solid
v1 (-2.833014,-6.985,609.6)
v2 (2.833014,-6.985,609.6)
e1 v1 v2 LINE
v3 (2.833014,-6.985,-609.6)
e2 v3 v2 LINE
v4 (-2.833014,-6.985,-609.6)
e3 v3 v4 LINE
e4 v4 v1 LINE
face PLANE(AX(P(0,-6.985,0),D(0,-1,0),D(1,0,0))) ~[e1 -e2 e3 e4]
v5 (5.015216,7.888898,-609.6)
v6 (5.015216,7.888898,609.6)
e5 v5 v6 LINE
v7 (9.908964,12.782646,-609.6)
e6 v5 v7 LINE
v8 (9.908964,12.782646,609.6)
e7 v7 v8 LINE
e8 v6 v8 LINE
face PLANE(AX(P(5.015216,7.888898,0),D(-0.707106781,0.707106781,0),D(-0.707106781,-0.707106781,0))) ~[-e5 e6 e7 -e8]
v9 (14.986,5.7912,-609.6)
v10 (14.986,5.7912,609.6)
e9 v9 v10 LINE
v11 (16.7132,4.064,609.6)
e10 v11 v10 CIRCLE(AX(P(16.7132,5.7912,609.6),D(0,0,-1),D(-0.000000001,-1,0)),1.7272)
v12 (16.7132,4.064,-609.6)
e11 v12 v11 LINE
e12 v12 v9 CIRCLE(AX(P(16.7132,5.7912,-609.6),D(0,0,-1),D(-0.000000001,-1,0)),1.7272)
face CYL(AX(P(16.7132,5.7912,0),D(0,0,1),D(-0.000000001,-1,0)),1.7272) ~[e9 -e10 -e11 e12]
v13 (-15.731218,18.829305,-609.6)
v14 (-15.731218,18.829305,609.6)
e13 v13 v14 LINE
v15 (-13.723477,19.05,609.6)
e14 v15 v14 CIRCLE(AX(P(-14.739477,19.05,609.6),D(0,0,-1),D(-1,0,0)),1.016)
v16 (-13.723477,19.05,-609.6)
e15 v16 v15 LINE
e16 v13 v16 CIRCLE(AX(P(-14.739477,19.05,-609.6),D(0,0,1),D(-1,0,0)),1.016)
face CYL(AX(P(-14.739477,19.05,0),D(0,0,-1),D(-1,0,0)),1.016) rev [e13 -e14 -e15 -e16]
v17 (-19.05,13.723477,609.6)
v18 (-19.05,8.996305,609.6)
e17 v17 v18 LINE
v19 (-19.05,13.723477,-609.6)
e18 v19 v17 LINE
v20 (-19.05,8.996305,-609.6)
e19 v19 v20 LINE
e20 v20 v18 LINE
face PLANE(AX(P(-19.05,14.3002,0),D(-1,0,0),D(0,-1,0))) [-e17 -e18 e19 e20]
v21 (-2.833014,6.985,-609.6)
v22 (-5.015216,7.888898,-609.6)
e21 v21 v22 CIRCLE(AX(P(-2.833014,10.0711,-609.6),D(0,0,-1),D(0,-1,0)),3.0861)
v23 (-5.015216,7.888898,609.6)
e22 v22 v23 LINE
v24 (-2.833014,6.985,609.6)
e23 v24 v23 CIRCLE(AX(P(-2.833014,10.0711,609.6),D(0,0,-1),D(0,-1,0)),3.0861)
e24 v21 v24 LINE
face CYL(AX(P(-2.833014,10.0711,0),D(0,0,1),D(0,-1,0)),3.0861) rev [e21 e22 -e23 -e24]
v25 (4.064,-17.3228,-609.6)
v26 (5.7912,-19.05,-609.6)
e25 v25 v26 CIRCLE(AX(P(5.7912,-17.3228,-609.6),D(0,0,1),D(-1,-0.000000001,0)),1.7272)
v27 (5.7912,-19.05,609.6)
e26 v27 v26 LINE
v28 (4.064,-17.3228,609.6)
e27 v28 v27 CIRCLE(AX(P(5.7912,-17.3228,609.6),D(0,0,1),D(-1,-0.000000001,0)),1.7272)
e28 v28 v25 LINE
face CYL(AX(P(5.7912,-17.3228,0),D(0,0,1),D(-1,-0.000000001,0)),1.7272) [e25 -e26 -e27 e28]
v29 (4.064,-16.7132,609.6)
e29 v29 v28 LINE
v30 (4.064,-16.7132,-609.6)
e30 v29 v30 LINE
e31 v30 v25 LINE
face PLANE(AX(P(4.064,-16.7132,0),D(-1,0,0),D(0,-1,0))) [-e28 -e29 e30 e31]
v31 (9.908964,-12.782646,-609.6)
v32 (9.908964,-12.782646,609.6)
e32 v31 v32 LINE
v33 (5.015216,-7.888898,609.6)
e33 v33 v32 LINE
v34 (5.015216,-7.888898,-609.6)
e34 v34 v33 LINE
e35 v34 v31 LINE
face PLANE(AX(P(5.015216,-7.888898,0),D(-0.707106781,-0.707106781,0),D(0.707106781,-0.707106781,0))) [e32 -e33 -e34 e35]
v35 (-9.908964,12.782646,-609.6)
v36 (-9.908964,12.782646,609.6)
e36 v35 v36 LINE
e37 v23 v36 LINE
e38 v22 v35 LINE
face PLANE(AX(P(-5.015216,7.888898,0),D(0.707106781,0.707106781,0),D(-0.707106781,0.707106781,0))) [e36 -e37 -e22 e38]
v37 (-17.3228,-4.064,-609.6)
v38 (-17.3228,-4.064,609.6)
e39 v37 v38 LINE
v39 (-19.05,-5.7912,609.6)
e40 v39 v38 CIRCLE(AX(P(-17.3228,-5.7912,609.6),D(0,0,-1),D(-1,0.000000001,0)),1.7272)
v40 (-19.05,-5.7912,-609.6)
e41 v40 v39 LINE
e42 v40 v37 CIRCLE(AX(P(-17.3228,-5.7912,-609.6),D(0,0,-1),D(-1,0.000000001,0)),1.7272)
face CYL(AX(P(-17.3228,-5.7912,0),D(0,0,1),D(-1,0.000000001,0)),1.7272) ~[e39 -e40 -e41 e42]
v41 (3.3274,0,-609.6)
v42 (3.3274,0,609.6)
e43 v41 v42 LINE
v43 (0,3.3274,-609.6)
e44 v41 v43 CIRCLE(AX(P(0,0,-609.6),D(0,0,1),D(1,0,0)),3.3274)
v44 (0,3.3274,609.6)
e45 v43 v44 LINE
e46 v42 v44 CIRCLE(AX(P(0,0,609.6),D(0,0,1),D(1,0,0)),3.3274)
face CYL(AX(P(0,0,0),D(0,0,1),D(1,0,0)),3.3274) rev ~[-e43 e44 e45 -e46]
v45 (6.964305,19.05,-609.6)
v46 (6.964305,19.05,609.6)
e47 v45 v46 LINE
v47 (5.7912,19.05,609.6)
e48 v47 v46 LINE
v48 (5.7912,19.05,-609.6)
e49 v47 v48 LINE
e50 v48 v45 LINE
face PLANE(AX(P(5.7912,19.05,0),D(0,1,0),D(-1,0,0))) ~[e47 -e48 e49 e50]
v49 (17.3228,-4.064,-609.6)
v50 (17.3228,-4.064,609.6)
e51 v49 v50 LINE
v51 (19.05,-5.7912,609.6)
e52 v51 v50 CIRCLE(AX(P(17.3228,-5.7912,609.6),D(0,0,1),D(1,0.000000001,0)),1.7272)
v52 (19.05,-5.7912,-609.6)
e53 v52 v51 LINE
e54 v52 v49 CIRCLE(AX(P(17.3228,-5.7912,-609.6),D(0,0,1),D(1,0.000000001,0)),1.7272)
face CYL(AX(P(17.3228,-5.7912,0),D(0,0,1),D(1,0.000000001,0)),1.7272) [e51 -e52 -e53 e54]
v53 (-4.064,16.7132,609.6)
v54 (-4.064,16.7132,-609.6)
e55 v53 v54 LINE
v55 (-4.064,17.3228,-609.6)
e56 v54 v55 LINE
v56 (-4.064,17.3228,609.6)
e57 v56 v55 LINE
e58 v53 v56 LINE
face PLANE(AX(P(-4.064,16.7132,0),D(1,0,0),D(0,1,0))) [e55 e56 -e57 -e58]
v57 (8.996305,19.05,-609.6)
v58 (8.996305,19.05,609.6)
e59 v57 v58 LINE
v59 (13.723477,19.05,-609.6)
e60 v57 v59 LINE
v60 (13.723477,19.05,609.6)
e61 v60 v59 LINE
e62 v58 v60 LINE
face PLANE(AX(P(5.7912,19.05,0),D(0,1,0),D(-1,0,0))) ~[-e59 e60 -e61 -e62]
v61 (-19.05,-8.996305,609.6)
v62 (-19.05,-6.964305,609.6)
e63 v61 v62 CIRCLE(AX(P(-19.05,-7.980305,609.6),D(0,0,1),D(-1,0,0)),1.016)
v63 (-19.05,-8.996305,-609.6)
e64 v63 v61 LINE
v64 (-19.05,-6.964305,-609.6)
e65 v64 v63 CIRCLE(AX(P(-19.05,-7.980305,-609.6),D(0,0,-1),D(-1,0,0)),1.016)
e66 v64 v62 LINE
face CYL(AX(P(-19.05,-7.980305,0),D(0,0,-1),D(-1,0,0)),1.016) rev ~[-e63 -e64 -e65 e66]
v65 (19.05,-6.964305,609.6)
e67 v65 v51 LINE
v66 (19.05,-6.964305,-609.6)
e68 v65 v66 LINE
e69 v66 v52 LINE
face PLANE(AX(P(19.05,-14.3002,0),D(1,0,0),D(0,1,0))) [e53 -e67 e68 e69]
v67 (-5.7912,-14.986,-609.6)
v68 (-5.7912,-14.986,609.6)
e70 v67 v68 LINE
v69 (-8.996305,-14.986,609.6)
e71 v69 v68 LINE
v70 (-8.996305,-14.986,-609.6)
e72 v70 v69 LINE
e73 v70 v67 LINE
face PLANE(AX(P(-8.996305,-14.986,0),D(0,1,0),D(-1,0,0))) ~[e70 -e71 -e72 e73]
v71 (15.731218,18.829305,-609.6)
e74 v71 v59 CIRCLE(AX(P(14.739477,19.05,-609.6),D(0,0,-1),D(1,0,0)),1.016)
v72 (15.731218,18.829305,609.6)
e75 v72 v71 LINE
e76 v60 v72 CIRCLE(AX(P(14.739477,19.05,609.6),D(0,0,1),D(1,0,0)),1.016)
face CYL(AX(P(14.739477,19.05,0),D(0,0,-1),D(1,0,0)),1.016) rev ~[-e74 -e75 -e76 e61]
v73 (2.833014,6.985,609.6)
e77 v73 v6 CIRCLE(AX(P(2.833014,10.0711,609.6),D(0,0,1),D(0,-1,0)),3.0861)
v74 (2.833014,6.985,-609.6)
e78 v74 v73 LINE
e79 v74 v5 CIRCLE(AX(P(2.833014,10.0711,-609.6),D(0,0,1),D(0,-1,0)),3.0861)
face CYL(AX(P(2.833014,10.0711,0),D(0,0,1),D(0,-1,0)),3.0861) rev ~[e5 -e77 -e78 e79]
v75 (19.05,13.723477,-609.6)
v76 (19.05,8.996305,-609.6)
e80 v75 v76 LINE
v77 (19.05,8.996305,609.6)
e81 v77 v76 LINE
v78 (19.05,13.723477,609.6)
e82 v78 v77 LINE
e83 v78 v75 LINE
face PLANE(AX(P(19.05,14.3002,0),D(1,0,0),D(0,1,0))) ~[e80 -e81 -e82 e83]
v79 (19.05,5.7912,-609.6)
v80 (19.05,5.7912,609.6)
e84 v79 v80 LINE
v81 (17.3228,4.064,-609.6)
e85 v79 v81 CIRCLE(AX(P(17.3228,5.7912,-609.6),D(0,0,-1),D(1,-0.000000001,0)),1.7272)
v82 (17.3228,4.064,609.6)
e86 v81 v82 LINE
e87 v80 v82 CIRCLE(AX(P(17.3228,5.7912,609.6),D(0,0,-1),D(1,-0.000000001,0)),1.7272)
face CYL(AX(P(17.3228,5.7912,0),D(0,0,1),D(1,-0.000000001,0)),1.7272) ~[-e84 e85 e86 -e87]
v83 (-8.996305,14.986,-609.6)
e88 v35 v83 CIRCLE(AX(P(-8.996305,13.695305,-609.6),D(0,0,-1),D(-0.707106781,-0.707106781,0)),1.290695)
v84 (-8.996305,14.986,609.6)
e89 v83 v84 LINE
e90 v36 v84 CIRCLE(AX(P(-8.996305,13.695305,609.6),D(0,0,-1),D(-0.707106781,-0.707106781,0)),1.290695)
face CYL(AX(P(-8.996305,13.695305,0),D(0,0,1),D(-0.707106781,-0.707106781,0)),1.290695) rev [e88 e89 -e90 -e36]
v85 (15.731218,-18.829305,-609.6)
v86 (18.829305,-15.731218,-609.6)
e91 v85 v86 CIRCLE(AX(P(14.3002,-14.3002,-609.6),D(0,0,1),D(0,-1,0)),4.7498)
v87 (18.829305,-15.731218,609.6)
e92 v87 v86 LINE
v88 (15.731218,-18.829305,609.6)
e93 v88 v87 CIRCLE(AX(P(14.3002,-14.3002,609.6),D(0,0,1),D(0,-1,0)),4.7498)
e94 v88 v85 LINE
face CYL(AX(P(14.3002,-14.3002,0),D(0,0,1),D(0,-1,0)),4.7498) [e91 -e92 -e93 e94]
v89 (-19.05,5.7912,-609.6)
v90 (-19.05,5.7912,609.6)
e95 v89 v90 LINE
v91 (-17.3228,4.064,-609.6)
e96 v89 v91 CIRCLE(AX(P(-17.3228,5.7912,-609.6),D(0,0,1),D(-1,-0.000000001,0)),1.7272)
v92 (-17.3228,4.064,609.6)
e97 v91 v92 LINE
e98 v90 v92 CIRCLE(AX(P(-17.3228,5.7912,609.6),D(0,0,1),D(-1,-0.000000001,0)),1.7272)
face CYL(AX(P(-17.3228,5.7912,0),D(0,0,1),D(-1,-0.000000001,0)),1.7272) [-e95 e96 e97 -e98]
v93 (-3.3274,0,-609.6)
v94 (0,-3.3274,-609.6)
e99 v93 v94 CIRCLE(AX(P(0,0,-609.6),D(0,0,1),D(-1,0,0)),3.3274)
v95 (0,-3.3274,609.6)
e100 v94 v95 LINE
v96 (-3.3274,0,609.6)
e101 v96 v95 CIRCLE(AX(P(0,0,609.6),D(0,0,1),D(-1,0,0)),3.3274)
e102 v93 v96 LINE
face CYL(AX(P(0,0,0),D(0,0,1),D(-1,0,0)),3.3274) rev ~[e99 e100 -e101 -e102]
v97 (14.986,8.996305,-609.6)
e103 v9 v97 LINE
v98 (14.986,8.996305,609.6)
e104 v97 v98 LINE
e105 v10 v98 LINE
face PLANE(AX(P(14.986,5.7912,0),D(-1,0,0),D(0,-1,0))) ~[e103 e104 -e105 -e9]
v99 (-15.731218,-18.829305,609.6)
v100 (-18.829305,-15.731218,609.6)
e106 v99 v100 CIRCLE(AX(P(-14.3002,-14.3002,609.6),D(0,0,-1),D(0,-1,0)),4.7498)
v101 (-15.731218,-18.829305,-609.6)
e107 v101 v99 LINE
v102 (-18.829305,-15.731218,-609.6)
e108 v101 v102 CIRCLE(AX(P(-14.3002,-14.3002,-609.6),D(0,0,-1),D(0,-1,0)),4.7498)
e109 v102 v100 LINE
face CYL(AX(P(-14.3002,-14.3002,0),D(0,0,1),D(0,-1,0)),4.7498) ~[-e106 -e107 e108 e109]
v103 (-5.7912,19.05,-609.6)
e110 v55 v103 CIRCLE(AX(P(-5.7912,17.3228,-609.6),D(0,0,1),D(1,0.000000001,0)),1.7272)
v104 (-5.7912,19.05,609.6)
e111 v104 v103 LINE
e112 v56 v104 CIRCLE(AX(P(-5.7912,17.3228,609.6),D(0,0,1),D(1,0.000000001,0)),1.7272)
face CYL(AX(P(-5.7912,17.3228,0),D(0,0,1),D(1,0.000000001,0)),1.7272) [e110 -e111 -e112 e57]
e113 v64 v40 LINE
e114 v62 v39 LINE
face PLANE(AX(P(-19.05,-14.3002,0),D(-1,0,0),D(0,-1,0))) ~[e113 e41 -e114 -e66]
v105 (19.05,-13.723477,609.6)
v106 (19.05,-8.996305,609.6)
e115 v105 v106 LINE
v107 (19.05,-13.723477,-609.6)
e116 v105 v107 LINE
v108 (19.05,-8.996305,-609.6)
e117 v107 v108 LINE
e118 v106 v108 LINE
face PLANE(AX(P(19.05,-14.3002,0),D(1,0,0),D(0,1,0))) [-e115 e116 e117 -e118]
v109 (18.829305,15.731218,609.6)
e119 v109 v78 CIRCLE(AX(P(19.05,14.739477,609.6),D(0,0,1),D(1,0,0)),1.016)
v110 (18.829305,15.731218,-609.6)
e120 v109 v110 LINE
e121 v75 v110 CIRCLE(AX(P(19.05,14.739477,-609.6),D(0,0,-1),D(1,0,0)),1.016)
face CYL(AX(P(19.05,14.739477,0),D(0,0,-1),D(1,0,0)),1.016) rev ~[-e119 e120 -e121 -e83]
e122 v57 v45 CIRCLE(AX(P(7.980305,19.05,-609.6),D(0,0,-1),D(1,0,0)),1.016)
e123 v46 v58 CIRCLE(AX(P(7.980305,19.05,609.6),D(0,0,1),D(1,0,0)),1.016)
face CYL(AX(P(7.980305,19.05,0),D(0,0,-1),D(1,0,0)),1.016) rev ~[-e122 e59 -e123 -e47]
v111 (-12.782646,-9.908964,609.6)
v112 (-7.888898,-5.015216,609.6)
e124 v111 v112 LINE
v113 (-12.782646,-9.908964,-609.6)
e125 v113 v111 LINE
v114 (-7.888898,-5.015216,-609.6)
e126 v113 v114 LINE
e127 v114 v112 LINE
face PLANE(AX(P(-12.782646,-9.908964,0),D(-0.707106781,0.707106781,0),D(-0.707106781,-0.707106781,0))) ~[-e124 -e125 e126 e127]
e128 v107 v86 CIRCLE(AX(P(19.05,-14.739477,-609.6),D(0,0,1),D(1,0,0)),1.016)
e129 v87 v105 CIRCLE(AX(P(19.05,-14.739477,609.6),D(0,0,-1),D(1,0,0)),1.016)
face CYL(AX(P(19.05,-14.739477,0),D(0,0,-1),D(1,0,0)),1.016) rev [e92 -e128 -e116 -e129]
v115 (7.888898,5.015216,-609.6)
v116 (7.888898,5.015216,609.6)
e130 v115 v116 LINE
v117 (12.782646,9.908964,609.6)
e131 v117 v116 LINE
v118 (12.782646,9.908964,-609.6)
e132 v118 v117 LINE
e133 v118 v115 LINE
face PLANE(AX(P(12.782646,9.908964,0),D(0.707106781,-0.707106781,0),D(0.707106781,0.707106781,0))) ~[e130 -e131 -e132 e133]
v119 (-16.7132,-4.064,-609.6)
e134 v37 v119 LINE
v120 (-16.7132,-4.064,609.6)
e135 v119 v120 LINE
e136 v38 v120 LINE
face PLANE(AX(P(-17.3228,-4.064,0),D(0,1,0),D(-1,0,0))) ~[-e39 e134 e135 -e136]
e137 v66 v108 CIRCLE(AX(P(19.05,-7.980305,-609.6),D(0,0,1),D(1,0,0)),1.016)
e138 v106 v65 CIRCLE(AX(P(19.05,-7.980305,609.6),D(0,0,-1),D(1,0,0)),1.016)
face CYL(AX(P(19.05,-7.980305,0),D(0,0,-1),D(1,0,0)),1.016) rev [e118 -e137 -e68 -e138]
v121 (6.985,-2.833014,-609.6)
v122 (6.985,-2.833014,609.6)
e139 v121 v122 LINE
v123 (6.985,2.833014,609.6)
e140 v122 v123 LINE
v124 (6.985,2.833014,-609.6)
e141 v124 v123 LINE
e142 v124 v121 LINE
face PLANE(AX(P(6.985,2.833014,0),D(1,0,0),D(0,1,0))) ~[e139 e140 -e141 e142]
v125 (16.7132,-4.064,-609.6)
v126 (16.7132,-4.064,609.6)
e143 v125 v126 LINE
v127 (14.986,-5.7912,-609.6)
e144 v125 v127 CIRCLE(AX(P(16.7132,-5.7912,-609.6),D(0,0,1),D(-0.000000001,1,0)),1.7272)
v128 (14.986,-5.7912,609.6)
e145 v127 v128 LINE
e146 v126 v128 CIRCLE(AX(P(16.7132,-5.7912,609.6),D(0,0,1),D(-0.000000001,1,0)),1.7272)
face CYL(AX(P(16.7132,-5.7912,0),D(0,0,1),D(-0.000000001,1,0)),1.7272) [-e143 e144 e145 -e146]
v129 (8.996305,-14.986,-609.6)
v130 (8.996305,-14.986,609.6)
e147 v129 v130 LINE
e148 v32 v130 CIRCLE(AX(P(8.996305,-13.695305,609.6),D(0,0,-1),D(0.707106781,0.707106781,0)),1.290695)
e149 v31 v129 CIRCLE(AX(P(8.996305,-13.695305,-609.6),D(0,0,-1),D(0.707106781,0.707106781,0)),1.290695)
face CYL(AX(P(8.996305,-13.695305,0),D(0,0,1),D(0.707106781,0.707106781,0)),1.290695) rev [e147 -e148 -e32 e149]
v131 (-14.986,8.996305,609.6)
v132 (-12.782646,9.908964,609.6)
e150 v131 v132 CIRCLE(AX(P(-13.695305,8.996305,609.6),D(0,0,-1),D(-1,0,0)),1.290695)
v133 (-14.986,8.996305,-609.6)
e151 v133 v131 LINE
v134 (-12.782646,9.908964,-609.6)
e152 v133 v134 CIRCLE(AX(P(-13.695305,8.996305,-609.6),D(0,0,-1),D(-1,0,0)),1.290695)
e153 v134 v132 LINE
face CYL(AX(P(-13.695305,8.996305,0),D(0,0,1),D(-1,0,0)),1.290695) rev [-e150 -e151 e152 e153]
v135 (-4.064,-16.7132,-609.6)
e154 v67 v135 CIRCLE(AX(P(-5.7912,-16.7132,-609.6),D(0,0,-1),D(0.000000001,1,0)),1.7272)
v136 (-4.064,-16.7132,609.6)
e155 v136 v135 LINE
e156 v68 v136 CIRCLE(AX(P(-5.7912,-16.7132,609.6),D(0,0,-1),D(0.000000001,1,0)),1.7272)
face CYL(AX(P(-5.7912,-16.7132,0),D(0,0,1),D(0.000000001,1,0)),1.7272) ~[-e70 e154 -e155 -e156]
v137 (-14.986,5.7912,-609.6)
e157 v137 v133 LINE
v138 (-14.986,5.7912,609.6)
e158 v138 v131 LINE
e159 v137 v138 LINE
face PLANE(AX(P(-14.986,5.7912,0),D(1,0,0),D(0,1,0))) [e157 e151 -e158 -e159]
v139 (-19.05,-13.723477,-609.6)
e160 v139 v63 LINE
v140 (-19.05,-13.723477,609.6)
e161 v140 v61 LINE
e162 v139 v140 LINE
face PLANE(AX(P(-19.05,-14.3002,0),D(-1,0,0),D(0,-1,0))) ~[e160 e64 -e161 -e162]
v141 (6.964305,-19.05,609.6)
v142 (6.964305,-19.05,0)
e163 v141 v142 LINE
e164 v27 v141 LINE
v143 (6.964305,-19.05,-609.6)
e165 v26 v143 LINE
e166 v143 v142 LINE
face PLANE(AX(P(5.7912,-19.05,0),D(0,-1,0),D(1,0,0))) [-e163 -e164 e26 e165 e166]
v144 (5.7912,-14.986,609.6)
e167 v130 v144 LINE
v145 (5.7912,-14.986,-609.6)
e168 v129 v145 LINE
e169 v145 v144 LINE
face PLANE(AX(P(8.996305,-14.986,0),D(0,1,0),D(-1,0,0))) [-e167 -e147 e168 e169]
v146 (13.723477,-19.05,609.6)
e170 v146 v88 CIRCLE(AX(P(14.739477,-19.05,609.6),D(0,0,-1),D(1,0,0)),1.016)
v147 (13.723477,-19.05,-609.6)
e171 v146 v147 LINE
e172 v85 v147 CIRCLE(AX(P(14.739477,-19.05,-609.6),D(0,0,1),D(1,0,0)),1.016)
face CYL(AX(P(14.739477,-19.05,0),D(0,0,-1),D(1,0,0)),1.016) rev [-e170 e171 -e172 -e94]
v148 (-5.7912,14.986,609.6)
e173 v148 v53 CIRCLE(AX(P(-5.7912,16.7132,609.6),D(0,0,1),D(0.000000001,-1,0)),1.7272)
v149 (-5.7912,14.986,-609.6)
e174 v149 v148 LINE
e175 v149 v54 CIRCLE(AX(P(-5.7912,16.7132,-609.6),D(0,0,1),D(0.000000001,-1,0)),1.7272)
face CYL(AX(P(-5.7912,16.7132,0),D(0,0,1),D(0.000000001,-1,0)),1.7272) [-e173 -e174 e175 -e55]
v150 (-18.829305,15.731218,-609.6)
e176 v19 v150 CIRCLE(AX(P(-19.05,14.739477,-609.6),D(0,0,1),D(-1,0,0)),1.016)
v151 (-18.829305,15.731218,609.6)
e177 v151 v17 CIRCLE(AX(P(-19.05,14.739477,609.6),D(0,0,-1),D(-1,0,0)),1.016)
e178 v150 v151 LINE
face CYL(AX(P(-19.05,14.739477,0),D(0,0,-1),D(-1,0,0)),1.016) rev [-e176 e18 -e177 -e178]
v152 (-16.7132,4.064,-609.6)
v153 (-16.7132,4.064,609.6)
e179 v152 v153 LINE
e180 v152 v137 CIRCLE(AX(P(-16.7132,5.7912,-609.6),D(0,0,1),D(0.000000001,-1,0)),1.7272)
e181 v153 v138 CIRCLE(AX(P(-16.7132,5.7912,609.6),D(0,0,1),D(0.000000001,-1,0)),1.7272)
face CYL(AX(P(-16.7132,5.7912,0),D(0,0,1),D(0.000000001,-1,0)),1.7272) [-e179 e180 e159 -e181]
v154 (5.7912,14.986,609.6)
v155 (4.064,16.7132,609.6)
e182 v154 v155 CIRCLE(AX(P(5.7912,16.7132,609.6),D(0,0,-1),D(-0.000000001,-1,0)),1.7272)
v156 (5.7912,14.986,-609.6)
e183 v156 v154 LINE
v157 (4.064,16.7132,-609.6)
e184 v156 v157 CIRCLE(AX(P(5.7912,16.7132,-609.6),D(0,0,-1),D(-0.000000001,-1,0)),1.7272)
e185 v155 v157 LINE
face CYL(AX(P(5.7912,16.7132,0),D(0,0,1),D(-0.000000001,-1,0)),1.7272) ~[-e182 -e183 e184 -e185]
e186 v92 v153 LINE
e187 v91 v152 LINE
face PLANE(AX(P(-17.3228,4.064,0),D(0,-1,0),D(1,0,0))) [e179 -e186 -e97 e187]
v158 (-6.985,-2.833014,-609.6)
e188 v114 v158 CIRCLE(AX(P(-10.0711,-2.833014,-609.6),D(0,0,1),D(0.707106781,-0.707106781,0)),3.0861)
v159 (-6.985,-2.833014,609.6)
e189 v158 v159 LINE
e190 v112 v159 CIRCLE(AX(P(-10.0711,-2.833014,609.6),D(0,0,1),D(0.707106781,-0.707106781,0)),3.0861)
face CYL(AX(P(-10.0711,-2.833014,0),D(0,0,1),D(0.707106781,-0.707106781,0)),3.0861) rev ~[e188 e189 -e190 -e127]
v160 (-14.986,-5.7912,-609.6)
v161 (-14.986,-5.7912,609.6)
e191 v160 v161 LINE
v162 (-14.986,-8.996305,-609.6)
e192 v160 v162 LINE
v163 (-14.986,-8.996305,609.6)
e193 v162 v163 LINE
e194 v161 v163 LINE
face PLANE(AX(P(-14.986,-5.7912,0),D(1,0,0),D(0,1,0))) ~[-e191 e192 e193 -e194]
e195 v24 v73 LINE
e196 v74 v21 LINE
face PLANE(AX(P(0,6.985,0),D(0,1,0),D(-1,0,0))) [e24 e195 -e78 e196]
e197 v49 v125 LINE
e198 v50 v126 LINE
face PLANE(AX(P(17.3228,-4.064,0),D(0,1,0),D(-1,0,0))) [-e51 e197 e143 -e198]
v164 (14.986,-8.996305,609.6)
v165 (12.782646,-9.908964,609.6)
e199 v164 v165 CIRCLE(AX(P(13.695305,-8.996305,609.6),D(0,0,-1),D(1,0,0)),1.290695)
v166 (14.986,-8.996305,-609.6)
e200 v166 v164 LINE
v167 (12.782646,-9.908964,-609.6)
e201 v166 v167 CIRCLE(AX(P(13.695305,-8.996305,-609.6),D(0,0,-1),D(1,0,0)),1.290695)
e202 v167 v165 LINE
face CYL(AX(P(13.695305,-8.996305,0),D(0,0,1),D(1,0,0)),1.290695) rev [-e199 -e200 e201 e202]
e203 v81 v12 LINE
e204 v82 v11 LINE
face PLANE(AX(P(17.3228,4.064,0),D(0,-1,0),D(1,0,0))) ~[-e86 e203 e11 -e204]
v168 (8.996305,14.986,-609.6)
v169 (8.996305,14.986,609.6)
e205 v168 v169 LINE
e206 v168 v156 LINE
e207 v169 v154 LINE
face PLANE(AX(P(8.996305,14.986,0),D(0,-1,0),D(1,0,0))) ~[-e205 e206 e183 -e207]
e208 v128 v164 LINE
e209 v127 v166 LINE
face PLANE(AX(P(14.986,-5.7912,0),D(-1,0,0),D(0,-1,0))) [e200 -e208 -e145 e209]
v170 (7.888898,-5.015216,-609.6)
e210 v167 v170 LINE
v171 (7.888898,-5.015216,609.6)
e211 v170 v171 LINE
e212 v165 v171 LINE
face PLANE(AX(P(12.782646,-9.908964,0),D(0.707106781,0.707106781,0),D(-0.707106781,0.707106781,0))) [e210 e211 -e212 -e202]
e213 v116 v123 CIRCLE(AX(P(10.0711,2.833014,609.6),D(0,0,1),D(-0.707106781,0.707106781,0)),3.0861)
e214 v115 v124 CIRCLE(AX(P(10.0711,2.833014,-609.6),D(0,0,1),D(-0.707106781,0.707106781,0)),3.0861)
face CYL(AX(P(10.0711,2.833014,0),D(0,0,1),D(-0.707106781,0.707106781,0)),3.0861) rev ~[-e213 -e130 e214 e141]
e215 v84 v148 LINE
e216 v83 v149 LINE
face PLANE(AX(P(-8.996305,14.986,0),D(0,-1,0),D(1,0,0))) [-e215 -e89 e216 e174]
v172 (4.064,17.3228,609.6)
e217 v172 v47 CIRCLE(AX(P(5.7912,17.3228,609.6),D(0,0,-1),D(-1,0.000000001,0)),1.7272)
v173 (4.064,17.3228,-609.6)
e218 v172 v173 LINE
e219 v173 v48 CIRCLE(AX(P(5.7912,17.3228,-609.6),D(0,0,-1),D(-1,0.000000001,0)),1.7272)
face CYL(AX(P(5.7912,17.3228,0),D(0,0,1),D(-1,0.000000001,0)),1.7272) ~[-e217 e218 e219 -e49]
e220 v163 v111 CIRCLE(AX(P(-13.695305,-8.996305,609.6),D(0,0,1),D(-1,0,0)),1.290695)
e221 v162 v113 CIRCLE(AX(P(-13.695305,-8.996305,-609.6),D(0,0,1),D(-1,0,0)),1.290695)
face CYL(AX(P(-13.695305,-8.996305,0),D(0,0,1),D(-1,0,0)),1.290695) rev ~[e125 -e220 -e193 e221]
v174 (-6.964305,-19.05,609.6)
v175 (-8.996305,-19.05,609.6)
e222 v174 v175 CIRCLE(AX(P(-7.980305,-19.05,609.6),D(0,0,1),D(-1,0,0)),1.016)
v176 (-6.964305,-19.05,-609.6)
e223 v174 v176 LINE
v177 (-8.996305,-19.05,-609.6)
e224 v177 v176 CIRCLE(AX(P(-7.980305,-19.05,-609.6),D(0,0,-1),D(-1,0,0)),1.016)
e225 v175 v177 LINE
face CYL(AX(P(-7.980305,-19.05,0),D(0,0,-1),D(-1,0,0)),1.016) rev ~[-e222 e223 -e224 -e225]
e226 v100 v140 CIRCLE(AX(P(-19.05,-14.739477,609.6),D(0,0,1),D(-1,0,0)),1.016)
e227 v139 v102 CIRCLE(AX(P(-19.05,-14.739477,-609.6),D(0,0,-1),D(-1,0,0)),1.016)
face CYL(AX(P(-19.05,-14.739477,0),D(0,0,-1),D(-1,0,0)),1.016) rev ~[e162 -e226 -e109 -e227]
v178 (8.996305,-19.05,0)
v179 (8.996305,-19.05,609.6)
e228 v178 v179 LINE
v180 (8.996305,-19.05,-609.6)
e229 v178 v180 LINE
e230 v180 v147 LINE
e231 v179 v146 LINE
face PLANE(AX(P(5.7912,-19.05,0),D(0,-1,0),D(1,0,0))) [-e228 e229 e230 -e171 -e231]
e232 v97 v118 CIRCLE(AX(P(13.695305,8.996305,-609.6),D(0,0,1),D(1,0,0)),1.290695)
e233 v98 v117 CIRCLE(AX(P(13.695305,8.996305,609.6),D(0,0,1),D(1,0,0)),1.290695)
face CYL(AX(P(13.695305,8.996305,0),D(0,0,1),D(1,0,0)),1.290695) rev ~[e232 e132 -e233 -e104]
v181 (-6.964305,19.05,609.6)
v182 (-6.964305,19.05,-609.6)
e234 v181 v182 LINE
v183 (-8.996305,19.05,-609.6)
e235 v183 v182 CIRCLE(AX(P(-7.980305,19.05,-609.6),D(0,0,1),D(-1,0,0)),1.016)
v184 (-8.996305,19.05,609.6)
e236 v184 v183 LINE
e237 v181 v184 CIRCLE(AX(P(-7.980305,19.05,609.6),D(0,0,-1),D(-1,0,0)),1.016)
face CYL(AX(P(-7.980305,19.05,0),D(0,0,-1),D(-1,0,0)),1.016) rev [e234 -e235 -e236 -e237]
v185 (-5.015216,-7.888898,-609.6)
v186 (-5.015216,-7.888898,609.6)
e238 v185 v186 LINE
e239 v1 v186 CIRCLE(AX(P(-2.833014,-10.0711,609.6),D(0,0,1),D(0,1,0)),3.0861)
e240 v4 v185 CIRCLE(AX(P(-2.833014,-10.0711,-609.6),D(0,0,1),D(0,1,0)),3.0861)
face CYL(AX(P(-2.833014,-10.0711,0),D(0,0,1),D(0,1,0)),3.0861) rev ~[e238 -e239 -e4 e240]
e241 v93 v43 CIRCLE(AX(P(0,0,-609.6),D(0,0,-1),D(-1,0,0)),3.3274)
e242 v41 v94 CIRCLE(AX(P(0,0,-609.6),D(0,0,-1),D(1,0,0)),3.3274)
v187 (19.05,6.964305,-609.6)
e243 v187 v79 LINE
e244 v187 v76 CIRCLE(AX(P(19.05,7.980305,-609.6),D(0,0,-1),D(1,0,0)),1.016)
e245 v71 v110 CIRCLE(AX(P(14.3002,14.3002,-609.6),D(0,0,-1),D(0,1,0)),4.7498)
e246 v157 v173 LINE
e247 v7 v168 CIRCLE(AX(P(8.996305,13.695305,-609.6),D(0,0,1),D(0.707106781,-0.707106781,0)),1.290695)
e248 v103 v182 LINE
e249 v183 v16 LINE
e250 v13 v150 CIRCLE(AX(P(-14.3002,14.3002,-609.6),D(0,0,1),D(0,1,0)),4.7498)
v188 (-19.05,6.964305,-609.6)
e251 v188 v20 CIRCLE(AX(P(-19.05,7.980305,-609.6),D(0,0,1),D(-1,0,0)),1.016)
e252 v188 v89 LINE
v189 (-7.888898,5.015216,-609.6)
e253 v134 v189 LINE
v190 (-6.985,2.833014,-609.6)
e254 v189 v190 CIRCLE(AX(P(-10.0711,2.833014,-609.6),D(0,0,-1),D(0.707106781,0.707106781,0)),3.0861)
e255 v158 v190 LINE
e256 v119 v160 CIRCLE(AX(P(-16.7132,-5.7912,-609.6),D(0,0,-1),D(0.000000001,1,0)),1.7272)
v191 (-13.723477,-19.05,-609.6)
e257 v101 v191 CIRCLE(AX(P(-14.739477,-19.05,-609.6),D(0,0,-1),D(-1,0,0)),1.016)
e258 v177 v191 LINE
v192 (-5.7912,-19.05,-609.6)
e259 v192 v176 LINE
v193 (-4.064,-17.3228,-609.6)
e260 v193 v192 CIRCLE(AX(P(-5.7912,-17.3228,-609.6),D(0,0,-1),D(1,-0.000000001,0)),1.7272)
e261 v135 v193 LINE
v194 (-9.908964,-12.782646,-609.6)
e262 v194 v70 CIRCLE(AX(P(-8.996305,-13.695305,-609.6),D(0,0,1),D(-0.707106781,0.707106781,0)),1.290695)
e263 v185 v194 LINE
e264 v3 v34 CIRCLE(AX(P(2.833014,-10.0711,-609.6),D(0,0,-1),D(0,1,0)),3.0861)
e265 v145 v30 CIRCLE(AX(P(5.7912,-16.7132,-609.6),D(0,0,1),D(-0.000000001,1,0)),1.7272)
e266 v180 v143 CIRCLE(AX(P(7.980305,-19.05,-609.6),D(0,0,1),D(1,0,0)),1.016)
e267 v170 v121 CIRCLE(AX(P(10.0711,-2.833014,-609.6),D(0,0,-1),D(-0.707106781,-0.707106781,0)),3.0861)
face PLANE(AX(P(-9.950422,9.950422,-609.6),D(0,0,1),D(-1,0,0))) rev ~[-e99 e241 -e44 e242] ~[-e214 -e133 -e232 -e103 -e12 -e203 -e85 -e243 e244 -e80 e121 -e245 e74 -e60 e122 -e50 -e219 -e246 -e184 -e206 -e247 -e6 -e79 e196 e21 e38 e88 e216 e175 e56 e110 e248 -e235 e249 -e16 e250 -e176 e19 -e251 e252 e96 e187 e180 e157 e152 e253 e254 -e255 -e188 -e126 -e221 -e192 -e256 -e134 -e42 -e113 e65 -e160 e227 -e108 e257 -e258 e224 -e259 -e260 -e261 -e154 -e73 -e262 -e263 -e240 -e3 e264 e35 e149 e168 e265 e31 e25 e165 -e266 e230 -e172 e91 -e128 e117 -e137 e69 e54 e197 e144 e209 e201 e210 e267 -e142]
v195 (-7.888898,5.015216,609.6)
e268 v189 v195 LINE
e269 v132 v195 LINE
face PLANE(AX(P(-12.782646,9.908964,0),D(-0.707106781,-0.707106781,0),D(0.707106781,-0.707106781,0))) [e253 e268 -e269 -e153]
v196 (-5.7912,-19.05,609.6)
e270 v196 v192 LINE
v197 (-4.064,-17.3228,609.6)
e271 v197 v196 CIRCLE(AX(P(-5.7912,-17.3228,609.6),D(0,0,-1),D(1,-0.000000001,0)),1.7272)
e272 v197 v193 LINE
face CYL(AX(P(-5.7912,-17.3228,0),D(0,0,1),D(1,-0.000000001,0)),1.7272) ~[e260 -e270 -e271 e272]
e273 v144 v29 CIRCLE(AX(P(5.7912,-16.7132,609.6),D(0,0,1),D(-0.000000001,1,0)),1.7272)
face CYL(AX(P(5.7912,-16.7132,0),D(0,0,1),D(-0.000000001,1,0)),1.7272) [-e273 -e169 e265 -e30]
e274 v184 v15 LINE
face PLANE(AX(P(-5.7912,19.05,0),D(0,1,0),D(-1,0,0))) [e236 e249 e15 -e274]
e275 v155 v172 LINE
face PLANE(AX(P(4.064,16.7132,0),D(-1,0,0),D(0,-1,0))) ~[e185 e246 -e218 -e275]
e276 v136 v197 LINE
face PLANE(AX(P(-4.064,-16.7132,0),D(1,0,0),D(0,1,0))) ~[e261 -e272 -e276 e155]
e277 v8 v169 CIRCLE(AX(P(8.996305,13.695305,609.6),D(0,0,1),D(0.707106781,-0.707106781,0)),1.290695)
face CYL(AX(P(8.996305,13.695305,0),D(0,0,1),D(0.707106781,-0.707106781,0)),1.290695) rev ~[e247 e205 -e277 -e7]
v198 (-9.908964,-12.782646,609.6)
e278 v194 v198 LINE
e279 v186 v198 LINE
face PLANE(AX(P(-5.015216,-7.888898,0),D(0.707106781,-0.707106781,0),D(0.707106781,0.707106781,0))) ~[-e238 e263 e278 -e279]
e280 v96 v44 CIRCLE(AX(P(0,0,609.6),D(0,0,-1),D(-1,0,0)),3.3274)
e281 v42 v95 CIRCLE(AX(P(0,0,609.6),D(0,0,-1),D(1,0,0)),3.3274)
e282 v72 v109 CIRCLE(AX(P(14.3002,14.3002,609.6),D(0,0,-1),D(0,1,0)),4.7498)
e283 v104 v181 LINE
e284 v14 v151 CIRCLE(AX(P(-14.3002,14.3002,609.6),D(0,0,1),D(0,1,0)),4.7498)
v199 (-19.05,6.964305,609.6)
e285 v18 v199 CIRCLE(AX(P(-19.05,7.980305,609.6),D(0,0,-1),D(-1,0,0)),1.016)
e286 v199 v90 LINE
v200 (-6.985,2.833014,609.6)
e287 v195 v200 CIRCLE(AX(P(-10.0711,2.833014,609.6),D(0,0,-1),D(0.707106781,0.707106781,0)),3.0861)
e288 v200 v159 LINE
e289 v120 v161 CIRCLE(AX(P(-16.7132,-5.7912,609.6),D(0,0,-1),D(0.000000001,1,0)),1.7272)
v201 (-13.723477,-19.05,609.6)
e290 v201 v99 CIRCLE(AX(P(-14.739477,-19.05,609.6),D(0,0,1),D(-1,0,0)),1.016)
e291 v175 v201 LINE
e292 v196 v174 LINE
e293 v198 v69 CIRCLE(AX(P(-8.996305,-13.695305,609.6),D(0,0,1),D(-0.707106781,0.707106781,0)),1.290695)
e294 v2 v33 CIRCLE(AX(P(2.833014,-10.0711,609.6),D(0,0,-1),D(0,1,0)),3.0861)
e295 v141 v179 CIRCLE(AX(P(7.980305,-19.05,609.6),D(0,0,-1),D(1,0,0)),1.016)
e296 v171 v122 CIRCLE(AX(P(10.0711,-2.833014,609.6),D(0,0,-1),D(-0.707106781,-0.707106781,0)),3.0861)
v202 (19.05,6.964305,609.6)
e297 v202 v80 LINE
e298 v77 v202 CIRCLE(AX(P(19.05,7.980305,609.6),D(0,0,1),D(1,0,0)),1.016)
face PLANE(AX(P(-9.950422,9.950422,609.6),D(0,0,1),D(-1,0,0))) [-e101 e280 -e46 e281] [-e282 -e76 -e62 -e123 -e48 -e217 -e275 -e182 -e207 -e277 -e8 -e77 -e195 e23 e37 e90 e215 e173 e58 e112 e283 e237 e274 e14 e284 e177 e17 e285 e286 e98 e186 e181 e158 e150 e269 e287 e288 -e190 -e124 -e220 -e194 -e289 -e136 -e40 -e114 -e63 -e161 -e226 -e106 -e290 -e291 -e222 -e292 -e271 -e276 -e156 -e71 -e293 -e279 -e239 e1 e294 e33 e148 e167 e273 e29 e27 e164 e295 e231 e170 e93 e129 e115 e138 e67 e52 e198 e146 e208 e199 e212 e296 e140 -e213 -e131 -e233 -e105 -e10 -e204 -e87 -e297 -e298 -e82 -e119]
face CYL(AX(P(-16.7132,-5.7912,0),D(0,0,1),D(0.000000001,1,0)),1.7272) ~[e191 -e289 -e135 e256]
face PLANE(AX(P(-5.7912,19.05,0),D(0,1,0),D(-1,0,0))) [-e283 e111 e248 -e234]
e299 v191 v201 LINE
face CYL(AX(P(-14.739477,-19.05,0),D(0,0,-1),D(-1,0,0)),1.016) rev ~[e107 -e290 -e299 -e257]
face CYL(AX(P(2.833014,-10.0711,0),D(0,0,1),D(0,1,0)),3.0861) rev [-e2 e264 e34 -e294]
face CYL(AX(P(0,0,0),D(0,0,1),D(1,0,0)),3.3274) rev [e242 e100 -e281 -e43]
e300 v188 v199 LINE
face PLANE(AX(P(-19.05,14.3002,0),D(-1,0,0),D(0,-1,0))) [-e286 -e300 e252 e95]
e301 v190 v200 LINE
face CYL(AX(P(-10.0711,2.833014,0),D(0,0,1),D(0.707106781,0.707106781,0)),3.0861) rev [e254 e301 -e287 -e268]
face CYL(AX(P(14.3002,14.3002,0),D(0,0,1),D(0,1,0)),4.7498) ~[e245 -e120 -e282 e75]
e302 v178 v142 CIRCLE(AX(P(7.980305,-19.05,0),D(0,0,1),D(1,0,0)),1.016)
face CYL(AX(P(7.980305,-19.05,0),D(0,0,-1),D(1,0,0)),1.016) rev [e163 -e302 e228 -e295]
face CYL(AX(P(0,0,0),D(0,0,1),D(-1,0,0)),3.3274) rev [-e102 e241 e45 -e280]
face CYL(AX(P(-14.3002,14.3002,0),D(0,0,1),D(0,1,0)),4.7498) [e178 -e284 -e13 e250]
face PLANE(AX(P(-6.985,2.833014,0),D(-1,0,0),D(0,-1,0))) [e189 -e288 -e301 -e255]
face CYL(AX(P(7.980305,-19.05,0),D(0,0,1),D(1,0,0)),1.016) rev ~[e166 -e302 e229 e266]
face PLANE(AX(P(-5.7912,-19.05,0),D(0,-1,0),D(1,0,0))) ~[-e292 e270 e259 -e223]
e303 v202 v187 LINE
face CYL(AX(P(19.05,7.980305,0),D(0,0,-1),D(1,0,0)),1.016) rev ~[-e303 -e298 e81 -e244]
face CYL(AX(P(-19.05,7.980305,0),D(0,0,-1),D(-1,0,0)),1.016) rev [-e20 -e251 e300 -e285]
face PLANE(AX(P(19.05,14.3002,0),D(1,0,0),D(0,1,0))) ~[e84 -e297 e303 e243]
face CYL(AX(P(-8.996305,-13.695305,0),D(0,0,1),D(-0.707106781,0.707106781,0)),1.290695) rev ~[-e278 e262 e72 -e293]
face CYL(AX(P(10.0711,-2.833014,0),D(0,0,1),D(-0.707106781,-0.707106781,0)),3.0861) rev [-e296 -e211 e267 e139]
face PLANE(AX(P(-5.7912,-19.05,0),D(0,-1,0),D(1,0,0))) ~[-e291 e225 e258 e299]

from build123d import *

# Parameters (mm, degrees)
BOSS_EXTRUDE1_DEPTH     = 609.6
SKETCH5_R               = 1.016
CUT_EXTRUDE1_DEPTH      = 610.6
CUT_EXTRUDE1_DEPTH_BACK = 610.6


with BuildPart() as part:
    # Sketch4 → Boss-Extrude1 (new body, symmetric)
    with BuildSketch(Plane.XY):
        with BuildLine():
            Line((5.7912, -19.05), (14.3002, -19.05))
            ThreePointArc((14.3002, -19.05), (17.658815789, -17.658815789), (19.05, -14.3002))
            Line((19.05, -14.3002), (19.05, -5.7912))
            ThreePointArc((19.05, -5.7912), (18.544114832, -4.569885168), (17.3228, -4.064))
            Line((17.3228, -4.064), (16.7132, -4.064))
            ThreePointArc((16.7132, -4.064), (15.491885168, -4.569885168), (14.986, -5.7912))
            Line((14.986, -5.7912), (14.986, -8.996305235))
            ThreePointArc((14.986, -8.996305235), (14.189232738, -10.188751711), (12.782646215, -9.908964256))
            Line((12.782646215, -9.908964256), (7.888897763, -5.015215804))
            ThreePointArc((7.888897763, -5.015215804), (7.219915375, -4.014012907), (6.985, -2.833013566))
            Line((6.985, -2.833013566), (6.985, 0))
            Line((6.985, 0), (3.3274, 0))
            ThreePointArc((3.3274, 0), (2.352827104, -2.352827104), (0, -3.3274))
            Line((0, -3.3274), (0, -6.985))
            Line((0, -6.985), (2.833013566, -6.985))
            ThreePointArc((2.833013566, -6.985), (4.014012907, -7.219915375), (5.015215804, -7.888897763))
            Line((5.015215804, -7.888897763), (9.908964256, -12.782646215))
            ThreePointArc((9.908964256, -12.782646215), (10.188751711, -14.189232738), (8.996305235, -14.986))
            Line((8.996305235, -14.986), (5.7912, -14.986))
            ThreePointArc((5.7912, -14.986), (4.569885168, -15.491885168), (4.064, -16.7132))
            Line((4.064, -16.7132), (4.064, -17.3228))
            ThreePointArc((4.064, -17.3228), (4.569885168, -18.544114832), (5.7912, -19.05))
        make_face()
    extrude(amount=BOSS_EXTRUDE1_DEPTH, both=True)

    # Sketch5 → Cut-Extrude1 (cut, two sides)
    with BuildSketch(Plane.XY) as cut_extrude1_sk:
        with Locations((14.739477062, -19.05)):
            Circle(SKETCH5_R)
        with Locations((7.980305235, -19.05)):
            Circle(SKETCH5_R)
        with Locations((19.05, -14.739477062)):
            Circle(SKETCH5_R)
        with Locations((19.05, -7.980305235)):
            Circle(SKETCH5_R)
    extrude(amount=CUT_EXTRUDE1_DEPTH, mode=Mode.SUBTRACT)
    extrude(cut_extrude1_sk.sketch, amount=-CUT_EXTRUDE1_DEPTH_BACK, mode=Mode.SUBTRACT)

    # Mirror1: part across plane


with BuildPart() as part_1:
    add(part.part)
    add(part.part.mirror(Plane(origin=(0, 0, 0), x_dir=(0, 0, 1), z_dir=(1, 0, 0))))

    # Mirror2: part across plane


with BuildPart() as part_2:
    add(part_1.part)
    add(part_1.part.mirror(Plane.ZX))


solid = part_2.part
